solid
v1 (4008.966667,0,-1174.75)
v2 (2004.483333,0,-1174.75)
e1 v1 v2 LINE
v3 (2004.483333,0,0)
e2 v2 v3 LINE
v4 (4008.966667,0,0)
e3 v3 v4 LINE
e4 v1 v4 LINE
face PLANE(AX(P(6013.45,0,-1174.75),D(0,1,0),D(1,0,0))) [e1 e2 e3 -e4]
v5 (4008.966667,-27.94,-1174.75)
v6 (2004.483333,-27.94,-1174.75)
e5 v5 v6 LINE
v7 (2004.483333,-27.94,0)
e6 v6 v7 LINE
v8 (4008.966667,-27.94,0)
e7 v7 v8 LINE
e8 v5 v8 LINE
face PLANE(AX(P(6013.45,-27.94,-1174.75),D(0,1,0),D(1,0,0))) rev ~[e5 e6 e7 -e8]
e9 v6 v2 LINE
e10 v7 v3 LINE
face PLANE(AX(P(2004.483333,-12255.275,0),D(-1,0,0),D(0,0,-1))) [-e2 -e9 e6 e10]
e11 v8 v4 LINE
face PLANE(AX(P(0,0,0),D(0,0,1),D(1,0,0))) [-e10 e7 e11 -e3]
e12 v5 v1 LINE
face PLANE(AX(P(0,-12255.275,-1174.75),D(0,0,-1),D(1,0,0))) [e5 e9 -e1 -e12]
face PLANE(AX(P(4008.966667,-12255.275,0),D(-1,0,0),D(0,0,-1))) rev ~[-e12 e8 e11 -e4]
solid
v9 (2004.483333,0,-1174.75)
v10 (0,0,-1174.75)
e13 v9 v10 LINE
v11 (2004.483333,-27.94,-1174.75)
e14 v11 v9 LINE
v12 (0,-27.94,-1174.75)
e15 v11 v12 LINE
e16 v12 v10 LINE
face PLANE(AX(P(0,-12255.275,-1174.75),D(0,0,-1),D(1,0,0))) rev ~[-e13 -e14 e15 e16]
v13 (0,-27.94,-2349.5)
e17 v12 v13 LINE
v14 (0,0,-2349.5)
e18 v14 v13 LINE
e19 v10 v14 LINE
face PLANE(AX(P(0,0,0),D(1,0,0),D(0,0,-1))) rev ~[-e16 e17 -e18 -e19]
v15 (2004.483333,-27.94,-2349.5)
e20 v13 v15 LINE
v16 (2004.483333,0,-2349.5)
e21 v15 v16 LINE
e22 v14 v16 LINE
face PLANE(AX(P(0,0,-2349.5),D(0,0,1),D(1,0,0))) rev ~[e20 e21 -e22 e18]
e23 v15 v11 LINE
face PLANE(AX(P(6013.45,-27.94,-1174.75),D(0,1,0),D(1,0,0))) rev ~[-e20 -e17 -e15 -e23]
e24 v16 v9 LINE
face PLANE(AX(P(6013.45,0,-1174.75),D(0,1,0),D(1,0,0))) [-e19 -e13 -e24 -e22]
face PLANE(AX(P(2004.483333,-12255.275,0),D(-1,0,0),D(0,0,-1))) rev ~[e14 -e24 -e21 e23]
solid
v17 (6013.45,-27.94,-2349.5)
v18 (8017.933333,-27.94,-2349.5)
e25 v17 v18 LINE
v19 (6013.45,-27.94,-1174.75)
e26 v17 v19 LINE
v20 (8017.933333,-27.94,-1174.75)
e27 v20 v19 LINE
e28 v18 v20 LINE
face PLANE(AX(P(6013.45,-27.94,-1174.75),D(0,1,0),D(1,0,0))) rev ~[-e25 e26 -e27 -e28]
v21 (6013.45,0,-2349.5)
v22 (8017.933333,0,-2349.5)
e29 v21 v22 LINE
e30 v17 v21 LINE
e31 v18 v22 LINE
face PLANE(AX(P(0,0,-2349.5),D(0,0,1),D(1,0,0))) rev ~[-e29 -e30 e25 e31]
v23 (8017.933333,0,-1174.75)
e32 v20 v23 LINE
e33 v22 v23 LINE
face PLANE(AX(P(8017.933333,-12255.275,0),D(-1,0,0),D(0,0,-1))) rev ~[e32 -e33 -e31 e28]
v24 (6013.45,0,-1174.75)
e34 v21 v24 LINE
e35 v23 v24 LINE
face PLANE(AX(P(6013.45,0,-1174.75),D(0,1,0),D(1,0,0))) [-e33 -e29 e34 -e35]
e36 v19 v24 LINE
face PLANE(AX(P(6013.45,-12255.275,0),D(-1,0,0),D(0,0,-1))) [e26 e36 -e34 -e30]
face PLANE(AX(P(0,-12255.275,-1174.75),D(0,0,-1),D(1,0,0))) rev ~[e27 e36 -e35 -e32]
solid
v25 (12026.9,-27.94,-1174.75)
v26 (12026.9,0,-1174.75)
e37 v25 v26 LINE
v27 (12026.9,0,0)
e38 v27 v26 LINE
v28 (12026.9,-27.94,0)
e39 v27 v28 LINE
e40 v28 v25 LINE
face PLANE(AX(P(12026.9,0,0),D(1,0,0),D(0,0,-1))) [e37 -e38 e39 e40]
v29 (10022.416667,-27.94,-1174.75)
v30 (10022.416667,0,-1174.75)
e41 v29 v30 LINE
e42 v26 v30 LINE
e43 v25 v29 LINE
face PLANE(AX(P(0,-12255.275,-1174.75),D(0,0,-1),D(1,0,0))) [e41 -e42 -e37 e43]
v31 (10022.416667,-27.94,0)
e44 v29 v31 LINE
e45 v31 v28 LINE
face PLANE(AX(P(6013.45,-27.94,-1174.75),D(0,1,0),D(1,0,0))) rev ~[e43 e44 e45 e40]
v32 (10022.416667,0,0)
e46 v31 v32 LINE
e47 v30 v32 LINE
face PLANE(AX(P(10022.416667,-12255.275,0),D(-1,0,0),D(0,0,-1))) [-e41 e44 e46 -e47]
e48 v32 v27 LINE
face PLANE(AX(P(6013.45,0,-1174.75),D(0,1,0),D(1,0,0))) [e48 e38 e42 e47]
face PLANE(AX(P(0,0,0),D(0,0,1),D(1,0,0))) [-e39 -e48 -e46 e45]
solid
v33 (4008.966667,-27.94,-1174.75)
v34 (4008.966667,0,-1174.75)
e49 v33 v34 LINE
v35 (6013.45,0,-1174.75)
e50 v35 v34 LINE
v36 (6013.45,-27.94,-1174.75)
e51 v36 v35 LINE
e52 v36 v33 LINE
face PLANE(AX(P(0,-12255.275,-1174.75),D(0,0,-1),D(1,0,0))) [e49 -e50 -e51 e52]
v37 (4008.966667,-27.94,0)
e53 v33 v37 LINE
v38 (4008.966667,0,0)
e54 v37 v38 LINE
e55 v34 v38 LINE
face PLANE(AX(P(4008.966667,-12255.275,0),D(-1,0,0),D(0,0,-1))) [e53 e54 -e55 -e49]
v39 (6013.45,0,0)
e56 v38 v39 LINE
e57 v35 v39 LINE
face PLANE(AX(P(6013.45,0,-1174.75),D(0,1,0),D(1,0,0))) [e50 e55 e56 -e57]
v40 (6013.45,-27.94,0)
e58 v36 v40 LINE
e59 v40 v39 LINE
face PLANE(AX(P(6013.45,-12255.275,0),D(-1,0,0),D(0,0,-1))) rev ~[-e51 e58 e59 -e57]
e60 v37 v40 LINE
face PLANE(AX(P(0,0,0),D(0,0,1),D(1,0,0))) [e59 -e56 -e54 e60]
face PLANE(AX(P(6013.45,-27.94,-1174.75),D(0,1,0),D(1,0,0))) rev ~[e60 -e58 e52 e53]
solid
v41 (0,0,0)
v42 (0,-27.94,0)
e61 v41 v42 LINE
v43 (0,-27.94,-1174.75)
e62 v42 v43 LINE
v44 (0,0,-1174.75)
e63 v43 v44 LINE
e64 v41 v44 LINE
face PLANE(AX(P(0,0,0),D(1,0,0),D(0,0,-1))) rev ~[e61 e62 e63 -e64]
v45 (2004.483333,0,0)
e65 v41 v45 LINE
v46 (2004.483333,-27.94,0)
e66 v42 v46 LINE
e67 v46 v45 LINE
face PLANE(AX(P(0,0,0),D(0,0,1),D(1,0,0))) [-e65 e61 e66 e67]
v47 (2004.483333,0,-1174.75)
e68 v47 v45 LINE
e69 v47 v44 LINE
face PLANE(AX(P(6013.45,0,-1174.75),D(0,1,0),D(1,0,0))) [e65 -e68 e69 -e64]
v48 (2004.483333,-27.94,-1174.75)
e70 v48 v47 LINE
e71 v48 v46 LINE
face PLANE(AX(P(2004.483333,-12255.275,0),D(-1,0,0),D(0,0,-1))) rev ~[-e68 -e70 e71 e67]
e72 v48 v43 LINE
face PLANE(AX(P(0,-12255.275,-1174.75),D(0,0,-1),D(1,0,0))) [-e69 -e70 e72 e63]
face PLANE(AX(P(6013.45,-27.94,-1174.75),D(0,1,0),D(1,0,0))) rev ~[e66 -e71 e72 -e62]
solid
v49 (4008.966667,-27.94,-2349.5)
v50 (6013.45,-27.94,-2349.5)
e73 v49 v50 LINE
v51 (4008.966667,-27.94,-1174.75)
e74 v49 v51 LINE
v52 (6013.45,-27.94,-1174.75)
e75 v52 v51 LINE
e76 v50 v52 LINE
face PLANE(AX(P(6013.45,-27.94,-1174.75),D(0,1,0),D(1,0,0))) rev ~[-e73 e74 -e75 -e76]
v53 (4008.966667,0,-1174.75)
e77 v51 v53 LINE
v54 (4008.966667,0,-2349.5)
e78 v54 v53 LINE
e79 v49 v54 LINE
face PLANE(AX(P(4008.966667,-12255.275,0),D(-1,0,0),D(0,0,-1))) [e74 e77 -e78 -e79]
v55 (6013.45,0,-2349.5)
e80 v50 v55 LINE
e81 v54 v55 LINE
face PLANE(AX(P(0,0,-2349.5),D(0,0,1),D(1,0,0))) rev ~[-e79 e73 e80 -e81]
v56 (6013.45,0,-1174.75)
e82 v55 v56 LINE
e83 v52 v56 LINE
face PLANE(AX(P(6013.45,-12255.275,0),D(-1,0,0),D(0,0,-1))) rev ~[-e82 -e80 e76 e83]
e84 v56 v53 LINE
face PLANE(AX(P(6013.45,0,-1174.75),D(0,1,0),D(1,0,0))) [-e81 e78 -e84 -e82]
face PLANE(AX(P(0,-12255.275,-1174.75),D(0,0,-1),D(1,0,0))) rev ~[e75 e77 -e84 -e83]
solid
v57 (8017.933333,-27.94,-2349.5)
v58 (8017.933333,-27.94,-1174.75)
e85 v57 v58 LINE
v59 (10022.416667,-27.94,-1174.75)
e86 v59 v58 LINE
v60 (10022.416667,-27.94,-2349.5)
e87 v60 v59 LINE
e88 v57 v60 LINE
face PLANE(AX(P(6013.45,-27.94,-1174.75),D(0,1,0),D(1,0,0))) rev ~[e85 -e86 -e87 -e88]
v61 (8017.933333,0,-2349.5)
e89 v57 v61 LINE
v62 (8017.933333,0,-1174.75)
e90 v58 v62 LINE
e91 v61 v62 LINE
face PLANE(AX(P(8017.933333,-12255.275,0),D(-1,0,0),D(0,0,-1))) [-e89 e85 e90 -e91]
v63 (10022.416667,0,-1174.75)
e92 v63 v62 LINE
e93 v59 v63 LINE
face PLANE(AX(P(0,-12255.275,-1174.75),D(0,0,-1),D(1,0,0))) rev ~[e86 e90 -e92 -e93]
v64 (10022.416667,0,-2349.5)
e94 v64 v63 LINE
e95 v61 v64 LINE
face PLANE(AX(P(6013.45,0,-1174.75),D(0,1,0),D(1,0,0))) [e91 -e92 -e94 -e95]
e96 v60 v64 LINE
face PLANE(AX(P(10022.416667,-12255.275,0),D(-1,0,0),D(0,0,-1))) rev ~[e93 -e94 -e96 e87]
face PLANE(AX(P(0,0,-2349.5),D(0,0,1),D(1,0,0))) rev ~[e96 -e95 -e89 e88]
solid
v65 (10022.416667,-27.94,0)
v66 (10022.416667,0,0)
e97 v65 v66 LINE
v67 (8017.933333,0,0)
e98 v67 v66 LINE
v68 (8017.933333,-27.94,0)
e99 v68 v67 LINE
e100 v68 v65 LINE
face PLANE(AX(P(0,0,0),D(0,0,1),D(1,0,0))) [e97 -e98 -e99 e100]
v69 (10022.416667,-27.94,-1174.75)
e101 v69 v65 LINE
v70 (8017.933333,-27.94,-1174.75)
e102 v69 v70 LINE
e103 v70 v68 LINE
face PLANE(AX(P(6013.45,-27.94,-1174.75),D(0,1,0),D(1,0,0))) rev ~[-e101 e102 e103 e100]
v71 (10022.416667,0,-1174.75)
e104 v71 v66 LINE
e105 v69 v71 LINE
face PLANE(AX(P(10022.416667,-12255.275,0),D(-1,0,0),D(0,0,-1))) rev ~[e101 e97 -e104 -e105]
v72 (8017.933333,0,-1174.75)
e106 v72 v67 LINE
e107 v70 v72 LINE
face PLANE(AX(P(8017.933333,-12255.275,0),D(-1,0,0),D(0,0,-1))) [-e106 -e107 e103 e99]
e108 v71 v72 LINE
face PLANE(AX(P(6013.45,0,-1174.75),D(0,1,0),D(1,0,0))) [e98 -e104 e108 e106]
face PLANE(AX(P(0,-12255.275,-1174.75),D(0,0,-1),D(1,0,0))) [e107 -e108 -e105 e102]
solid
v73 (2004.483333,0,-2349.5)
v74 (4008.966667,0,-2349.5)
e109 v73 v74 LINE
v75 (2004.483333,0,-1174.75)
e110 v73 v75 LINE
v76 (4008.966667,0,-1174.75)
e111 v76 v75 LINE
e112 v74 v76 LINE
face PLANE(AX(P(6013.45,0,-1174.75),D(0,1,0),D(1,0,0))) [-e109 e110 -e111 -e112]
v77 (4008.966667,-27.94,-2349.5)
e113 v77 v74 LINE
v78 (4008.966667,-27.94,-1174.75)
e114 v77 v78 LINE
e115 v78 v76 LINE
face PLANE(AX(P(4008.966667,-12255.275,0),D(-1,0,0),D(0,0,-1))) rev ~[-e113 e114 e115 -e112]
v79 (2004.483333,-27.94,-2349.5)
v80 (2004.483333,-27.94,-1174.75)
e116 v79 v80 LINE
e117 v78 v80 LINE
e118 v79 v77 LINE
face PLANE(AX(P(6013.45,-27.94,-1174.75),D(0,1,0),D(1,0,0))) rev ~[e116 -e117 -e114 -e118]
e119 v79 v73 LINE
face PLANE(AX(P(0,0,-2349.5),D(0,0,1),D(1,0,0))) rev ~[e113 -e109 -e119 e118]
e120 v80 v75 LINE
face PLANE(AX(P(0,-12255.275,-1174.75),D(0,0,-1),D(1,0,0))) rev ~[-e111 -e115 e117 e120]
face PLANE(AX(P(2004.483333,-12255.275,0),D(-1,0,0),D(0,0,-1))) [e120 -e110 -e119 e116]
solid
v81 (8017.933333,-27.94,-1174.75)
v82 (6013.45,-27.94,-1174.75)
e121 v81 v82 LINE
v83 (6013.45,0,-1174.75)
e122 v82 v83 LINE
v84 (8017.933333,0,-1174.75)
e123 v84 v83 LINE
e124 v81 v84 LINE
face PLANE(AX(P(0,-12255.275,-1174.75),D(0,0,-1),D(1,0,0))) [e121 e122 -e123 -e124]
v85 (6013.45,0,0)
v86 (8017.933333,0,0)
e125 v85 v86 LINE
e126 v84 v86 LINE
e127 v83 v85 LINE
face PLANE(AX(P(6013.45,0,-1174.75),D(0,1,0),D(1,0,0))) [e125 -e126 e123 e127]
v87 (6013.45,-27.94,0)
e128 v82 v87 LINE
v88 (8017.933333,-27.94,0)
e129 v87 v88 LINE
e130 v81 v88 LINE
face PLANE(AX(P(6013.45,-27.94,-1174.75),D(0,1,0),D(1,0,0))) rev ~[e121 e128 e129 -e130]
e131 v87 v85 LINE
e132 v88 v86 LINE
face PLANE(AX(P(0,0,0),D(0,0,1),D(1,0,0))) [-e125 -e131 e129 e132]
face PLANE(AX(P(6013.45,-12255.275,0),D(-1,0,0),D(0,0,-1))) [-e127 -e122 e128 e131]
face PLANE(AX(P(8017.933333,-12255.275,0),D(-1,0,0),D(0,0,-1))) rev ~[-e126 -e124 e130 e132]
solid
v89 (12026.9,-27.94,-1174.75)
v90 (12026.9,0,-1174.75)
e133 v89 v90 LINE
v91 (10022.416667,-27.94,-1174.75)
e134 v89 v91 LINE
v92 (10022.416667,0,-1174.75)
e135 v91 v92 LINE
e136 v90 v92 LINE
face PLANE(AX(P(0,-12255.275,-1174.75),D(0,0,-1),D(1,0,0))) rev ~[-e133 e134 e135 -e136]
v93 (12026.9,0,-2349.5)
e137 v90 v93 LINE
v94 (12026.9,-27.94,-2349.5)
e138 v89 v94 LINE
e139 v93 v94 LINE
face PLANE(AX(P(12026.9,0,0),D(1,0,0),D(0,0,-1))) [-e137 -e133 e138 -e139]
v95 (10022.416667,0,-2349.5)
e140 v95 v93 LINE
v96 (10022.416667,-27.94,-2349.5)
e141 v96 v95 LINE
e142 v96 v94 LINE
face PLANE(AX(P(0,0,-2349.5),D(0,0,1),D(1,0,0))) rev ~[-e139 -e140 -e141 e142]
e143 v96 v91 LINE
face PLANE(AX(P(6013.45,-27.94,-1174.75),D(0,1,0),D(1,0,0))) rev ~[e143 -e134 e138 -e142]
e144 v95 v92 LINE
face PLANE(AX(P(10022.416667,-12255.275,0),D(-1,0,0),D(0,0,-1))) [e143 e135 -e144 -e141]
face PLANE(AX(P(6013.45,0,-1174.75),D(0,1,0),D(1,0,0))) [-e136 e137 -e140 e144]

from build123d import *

# Parameters (mm, degrees)
SKETCH1_W                 = 12026.9
SKETCH1_H                 = 2349.5
BOSS_EXTRUDE1_DEPTH       = 27.94
SPLIT1_SURFACE_1_1_BACK   = 12255.275
SPLIT1_SURFACE_1_1_DEPTH  = 24510.55
SPLIT1_SURFACE_1_2_BACK   = 12255.275
SPLIT1_SURFACE_1_2_DEPTH  = 24510.55
SPLIT1_SURFACE_2_3_BACK   = 12255.275
SPLIT1_SURFACE_2_3_DEPTH  = 24510.55
SPLIT1_SURFACE_2_4_BACK   = 12255.275
SPLIT1_SURFACE_2_4_DEPTH  = 24510.55
SPLIT1_SURFACE_2_5_BACK   = 12255.275
SPLIT1_SURFACE_2_5_DEPTH  = 24510.55
SPLIT1_SURFACE_2_6_BACK   = 12255.275
SPLIT1_SURFACE_2_6_DEPTH  = 24510.55
SPLIT1_SURFACE_3_7_BACK   = 12255.275
SPLIT1_SURFACE_3_7_DEPTH  = 24510.55
SPLIT1_SURFACE_3_8_BACK   = 12255.275
SPLIT1_SURFACE_3_8_DEPTH  = 24510.55
SPLIT1_SURFACE_3_9_BACK   = 12255.275
SPLIT1_SURFACE_3_9_DEPTH  = 24510.55
SPLIT1_SURFACE_3_10_BACK  = 12255.275
SPLIT1_SURFACE_3_10_DEPTH = 24510.55
SPLIT1_SURFACE_4_11_BACK  = 12255.275
SPLIT1_SURFACE_4_11_DEPTH = 24510.55
SPLIT1_SURFACE_4_12_BACK  = 12255.275
SPLIT1_SURFACE_4_12_DEPTH = 24510.55
SPLIT1_SURFACE_4_13_BACK  = 12255.275
SPLIT1_SURFACE_4_13_DEPTH = 24510.55
SPLIT1_SURFACE_4_14_BACK  = 12255.275
SPLIT1_SURFACE_4_14_DEPTH = 24510.55
SPLIT1_SURFACE_5_15_BACK  = 12255.275
SPLIT1_SURFACE_5_15_DEPTH = 24510.55
SPLIT1_SURFACE_5_16_BACK  = 12255.275
SPLIT1_SURFACE_5_16_DEPTH = 24510.55
SPLIT1_SURFACE_5_17_BACK  = 12255.275
SPLIT1_SURFACE_5_17_DEPTH = 24510.55
SPLIT1_SURFACE_5_18_BACK  = 12255.275
SPLIT1_SURFACE_5_18_DEPTH = 24510.55
SPLIT1_SURFACE_6_19_BACK  = 12255.275
SPLIT1_SURFACE_6_19_DEPTH = 24510.55
SPLIT1_SURFACE_6_20_BACK  = 12255.275
SPLIT1_SURFACE_6_20_DEPTH = 24510.55
SPLIT1_SURFACE_6_21_BACK  = 12255.275
SPLIT1_SURFACE_6_21_DEPTH = 24510.55
SPLIT1_SURFACE_6_22_BACK  = 12255.275
SPLIT1_SURFACE_6_22_DEPTH = 24510.55


with BuildPart() as part:
    # Sketch1 → Boss-Extrude1 (new body)
    with BuildSketch(Plane(origin=(0, 0, 0), x_dir=(1, 0, 0), z_dir=(0, 1, 0))):
        with Locations((6013.45, 1174.75)):
            Rectangle(SKETCH1_W, SKETCH1_H)
    extrude(amount=-BOSS_EXTRUDE1_DEPTH)


with BuildPart() as body_2:
    # Split1: the piece behind the surface
    add(part.part)
    # Split1 surface 1: a surface, the sketch's curves swept straight by 24510.55 mm
    with BuildLine(Plane(origin=(0, 0, 0), x_dir=(1, 0, 0), z_dir=(0, 1, 0)).offset(-SPLIT1_SURFACE_1_1_BACK), mode=Mode.PRIVATE) as split1_surface_1_1_path:
        Line((0, 1174.75), (12026.9, 1174.75))
    split1_surface_1_1 = Shell.extrude(split1_surface_1_1_path.wire(), (0 * SPLIT1_SURFACE_1_1_DEPTH, 1 * SPLIT1_SURFACE_1_1_DEPTH, 0 * SPLIT1_SURFACE_1_1_DEPTH))
    split(bisect_by=split1_surface_1_1, keep=Keep.BOTTOM)


with BuildPart() as part_1:
    add(part.part)

    # Split1: split by a surface, the side it looks to stays
    # Split1 surface 1: a surface, the sketch's curves swept straight by 24510.55 mm
    with BuildLine(Plane(origin=(0, 0, 0), x_dir=(1, 0, 0), z_dir=(0, 1, 0)).offset(-SPLIT1_SURFACE_1_2_BACK), mode=Mode.PRIVATE) as split1_surface_1_2_path:
        Line((0, 1174.75), (12026.9, 1174.75))
    split1_surface_1_2 = Shell.extrude(split1_surface_1_2_path.wire(), (0 * SPLIT1_SURFACE_1_2_DEPTH, 1 * SPLIT1_SURFACE_1_2_DEPTH, 0 * SPLIT1_SURFACE_1_2_DEPTH))
    split(bisect_by=split1_surface_1_2, keep=Keep.TOP)


with BuildPart() as body_3:
    # Split1 2: the piece behind the surface
    add(part_1.part)
    # Split1 surface 2: a surface, the sketch's curves swept straight by 24510.55 mm
    with BuildLine(Plane(origin=(0, 0, 0), x_dir=(1, 0, 0), z_dir=(0, 1, 0)).offset(-SPLIT1_SURFACE_2_3_BACK), mode=Mode.PRIVATE) as split1_surface_2_3_path:
        Line((2004.483333333, 0), (2004.483333333, 2349.5))
    split1_surface_2_3 = Shell.extrude(split1_surface_2_3_path.wire(), (0 * SPLIT1_SURFACE_2_3_DEPTH, 1 * SPLIT1_SURFACE_2_3_DEPTH, 0 * SPLIT1_SURFACE_2_3_DEPTH))
    split(bisect_by=split1_surface_2_3, keep=Keep.BOTTOM)


with BuildPart() as part_2:
    add(part_1.part)

    # Split1 2: split by a surface, the side it looks to stays
    # Split1 surface 2: a surface, the sketch's curves swept straight by 24510.55 mm
    with BuildLine(Plane(origin=(0, 0, 0), x_dir=(1, 0, 0), z_dir=(0, 1, 0)).offset(-SPLIT1_SURFACE_2_4_BACK), mode=Mode.PRIVATE) as split1_surface_2_4_path:
        Line((2004.483333333, 0), (2004.483333333, 2349.5))
    split1_surface_2_4 = Shell.extrude(split1_surface_2_4_path.wire(), (0 * SPLIT1_SURFACE_2_4_DEPTH, 1 * SPLIT1_SURFACE_2_4_DEPTH, 0 * SPLIT1_SURFACE_2_4_DEPTH))
    split(bisect_by=split1_surface_2_4, keep=Keep.TOP)


with BuildPart() as body_4:
    # Split1 2 body 2: the piece behind the surface
    add(body_2.part)
    # Split1 surface 2: a surface, the sketch's curves swept straight by 24510.55 mm
    with BuildLine(Plane(origin=(0, 0, 0), x_dir=(1, 0, 0), z_dir=(0, 1, 0)).offset(-SPLIT1_SURFACE_2_5_BACK), mode=Mode.PRIVATE) as split1_surface_2_5_path:
        Line((2004.483333333, 0), (2004.483333333, 2349.5))
    split1_surface_2_5 = Shell.extrude(split1_surface_2_5_path.wire(), (0 * SPLIT1_SURFACE_2_5_DEPTH, 1 * SPLIT1_SURFACE_2_5_DEPTH, 0 * SPLIT1_SURFACE_2_5_DEPTH))
    split(bisect_by=split1_surface_2_5, keep=Keep.BOTTOM)


with BuildPart() as body_2_1:
    add(body_2.part)

    # Split1 2 body 2: split by a surface, the side it looks to stays
    # Split1 surface 2: a surface, the sketch's curves swept straight by 24510.55 mm
    with BuildLine(Plane(origin=(0, 0, 0), x_dir=(1, 0, 0), z_dir=(0, 1, 0)).offset(-SPLIT1_SURFACE_2_6_BACK), mode=Mode.PRIVATE) as split1_surface_2_6_path:
        Line((2004.483333333, 0), (2004.483333333, 2349.5))
    split1_surface_2_6 = Shell.extrude(split1_surface_2_6_path.wire(), (0 * SPLIT1_SURFACE_2_6_DEPTH, 1 * SPLIT1_SURFACE_2_6_DEPTH, 0 * SPLIT1_SURFACE_2_6_DEPTH))
    split(bisect_by=split1_surface_2_6, keep=Keep.TOP)


with BuildPart() as body_5:
    # Split1 3 body 3: the piece behind the surface
    add(body_3.part)
    # Split1 surface 3: a surface, the sketch's curves swept straight by 24510.55 mm
    with BuildLine(Plane(origin=(0, 0, 0), x_dir=(1, 0, 0), z_dir=(0, 1, 0)).offset(-SPLIT1_SURFACE_3_7_BACK), mode=Mode.PRIVATE) as split1_surface_3_7_path:
        Line((4008.966666667, 0), (4008.966666667, 2349.5))
    split1_surface_3_7 = Shell.extrude(split1_surface_3_7_path.wire(), (0 * SPLIT1_SURFACE_3_7_DEPTH, 1 * SPLIT1_SURFACE_3_7_DEPTH, 0 * SPLIT1_SURFACE_3_7_DEPTH))
    split(bisect_by=split1_surface_3_7, keep=Keep.BOTTOM)


with BuildPart() as body_3_1:
    add(body_3.part)

    # Split1 3 body 3: split by a surface, the side it looks to stays
    # Split1 surface 3: a surface, the sketch's curves swept straight by 24510.55 mm
    with BuildLine(Plane(origin=(0, 0, 0), x_dir=(1, 0, 0), z_dir=(0, 1, 0)).offset(-SPLIT1_SURFACE_3_8_BACK), mode=Mode.PRIVATE) as split1_surface_3_8_path:
        Line((4008.966666667, 0), (4008.966666667, 2349.5))
    split1_surface_3_8 = Shell.extrude(split1_surface_3_8_path.wire(), (0 * SPLIT1_SURFACE_3_8_DEPTH, 1 * SPLIT1_SURFACE_3_8_DEPTH, 0 * SPLIT1_SURFACE_3_8_DEPTH))
    split(bisect_by=split1_surface_3_8, keep=Keep.TOP)


with BuildPart() as body_6:
    # Split1 3 body 4: the piece behind the surface
    add(body_4.part)
    # Split1 surface 3: a surface, the sketch's curves swept straight by 24510.55 mm
    with BuildLine(Plane(origin=(0, 0, 0), x_dir=(1, 0, 0), z_dir=(0, 1, 0)).offset(-SPLIT1_SURFACE_3_9_BACK), mode=Mode.PRIVATE) as split1_surface_3_9_path:
        Line((4008.966666667, 0), (4008.966666667, 2349.5))
    split1_surface_3_9 = Shell.extrude(split1_surface_3_9_path.wire(), (0 * SPLIT1_SURFACE_3_9_DEPTH, 1 * SPLIT1_SURFACE_3_9_DEPTH, 0 * SPLIT1_SURFACE_3_9_DEPTH))
    split(bisect_by=split1_surface_3_9, keep=Keep.BOTTOM)


with BuildPart() as body_4_1:
    add(body_4.part)

    # Split1 3 body 4: split by a surface, the side it looks to stays
    # Split1 surface 3: a surface, the sketch's curves swept straight by 24510.55 mm
    with BuildLine(Plane(origin=(0, 0, 0), x_dir=(1, 0, 0), z_dir=(0, 1, 0)).offset(-SPLIT1_SURFACE_3_10_BACK), mode=Mode.PRIVATE) as split1_surface_3_10_path:
        Line((4008.966666667, 0), (4008.966666667, 2349.5))
    split1_surface_3_10 = Shell.extrude(split1_surface_3_10_path.wire(), (0 * SPLIT1_SURFACE_3_10_DEPTH, 1 * SPLIT1_SURFACE_3_10_DEPTH, 0 * SPLIT1_SURFACE_3_10_DEPTH))
    split(bisect_by=split1_surface_3_10, keep=Keep.TOP)


with BuildPart() as body_7:
    # Split1 4 body 5: the piece behind the surface
    add(body_5.part)
    # Split1 surface 4: a surface, the sketch's curves swept straight by 24510.55 mm
    with BuildLine(Plane(origin=(0, 0, 0), x_dir=(1, 0, 0), z_dir=(0, 1, 0)).offset(-SPLIT1_SURFACE_4_11_BACK), mode=Mode.PRIVATE) as split1_surface_4_11_path:
        Line((10022.416666667, 0), (10022.416666667, 2349.5))
    split1_surface_4_11 = Shell.extrude(split1_surface_4_11_path.wire(), (0 * SPLIT1_SURFACE_4_11_DEPTH, 1 * SPLIT1_SURFACE_4_11_DEPTH, 0 * SPLIT1_SURFACE_4_11_DEPTH))
    split(bisect_by=split1_surface_4_11, keep=Keep.BOTTOM)


with BuildPart() as body_5_1:
    add(body_5.part)

    # Split1 4 body 5: split by a surface, the side it looks to stays
    # Split1 surface 4: a surface, the sketch's curves swept straight by 24510.55 mm
    with BuildLine(Plane(origin=(0, 0, 0), x_dir=(1, 0, 0), z_dir=(0, 1, 0)).offset(-SPLIT1_SURFACE_4_12_BACK), mode=Mode.PRIVATE) as split1_surface_4_12_path:
        Line((10022.416666667, 0), (10022.416666667, 2349.5))
    split1_surface_4_12 = Shell.extrude(split1_surface_4_12_path.wire(), (0 * SPLIT1_SURFACE_4_12_DEPTH, 1 * SPLIT1_SURFACE_4_12_DEPTH, 0 * SPLIT1_SURFACE_4_12_DEPTH))
    split(bisect_by=split1_surface_4_12, keep=Keep.TOP)


with BuildPart() as body_8:
    # Split1 4 body 6: the piece behind the surface
    add(body_6.part)
    # Split1 surface 4: a surface, the sketch's curves swept straight by 24510.55 mm
    with BuildLine(Plane(origin=(0, 0, 0), x_dir=(1, 0, 0), z_dir=(0, 1, 0)).offset(-SPLIT1_SURFACE_4_13_BACK), mode=Mode.PRIVATE) as split1_surface_4_13_path:
        Line((10022.416666667, 0), (10022.416666667, 2349.5))
    split1_surface_4_13 = Shell.extrude(split1_surface_4_13_path.wire(), (0 * SPLIT1_SURFACE_4_13_DEPTH, 1 * SPLIT1_SURFACE_4_13_DEPTH, 0 * SPLIT1_SURFACE_4_13_DEPTH))
    split(bisect_by=split1_surface_4_13, keep=Keep.BOTTOM)


with BuildPart() as body_6_1:
    add(body_6.part)

    # Split1 4 body 6: split by a surface, the side it looks to stays
    # Split1 surface 4: a surface, the sketch's curves swept straight by 24510.55 mm
    with BuildLine(Plane(origin=(0, 0, 0), x_dir=(1, 0, 0), z_dir=(0, 1, 0)).offset(-SPLIT1_SURFACE_4_14_BACK), mode=Mode.PRIVATE) as split1_surface_4_14_path:
        Line((10022.416666667, 0), (10022.416666667, 2349.5))
    split1_surface_4_14 = Shell.extrude(split1_surface_4_14_path.wire(), (0 * SPLIT1_SURFACE_4_14_DEPTH, 1 * SPLIT1_SURFACE_4_14_DEPTH, 0 * SPLIT1_SURFACE_4_14_DEPTH))
    split(bisect_by=split1_surface_4_14, keep=Keep.TOP)


with BuildPart() as body_9:
    # Split1 5 body 5: the piece behind the surface
    add(body_5_1.part)
    # Split1 surface 5: a surface, the sketch's curves swept straight by 24510.55 mm
    with BuildLine(Plane(origin=(0, 0, 0), x_dir=(1, 0, 0), z_dir=(0, 1, 0)).offset(-SPLIT1_SURFACE_5_15_BACK), mode=Mode.PRIVATE) as split1_surface_5_15_path:
        Line((8017.933333333, 0), (8017.933333333, 2349.5))
    split1_surface_5_15 = Shell.extrude(split1_surface_5_15_path.wire(), (0 * SPLIT1_SURFACE_5_15_DEPTH, 1 * SPLIT1_SURFACE_5_15_DEPTH, 0 * SPLIT1_SURFACE_5_15_DEPTH))
    split(bisect_by=split1_surface_5_15, keep=Keep.BOTTOM)


with BuildPart() as body_5_2:
    add(body_5_1.part)

    # Split1 5 body 5: split by a surface, the side it looks to stays
    # Split1 surface 5: a surface, the sketch's curves swept straight by 24510.55 mm
    with BuildLine(Plane(origin=(0, 0, 0), x_dir=(1, 0, 0), z_dir=(0, 1, 0)).offset(-SPLIT1_SURFACE_5_16_BACK), mode=Mode.PRIVATE) as split1_surface_5_16_path:
        Line((8017.933333333, 0), (8017.933333333, 2349.5))
    split1_surface_5_16 = Shell.extrude(split1_surface_5_16_path.wire(), (0 * SPLIT1_SURFACE_5_16_DEPTH, 1 * SPLIT1_SURFACE_5_16_DEPTH, 0 * SPLIT1_SURFACE_5_16_DEPTH))
    split(bisect_by=split1_surface_5_16, keep=Keep.TOP)


with BuildPart() as body_10:
    # Split1 5 body 6: the piece behind the surface
    add(body_6_1.part)
    # Split1 surface 5: a surface, the sketch's curves swept straight by 24510.55 mm
    with BuildLine(Plane(origin=(0, 0, 0), x_dir=(1, 0, 0), z_dir=(0, 1, 0)).offset(-SPLIT1_SURFACE_5_17_BACK), mode=Mode.PRIVATE) as split1_surface_5_17_path:
        Line((8017.933333333, 0), (8017.933333333, 2349.5))
    split1_surface_5_17 = Shell.extrude(split1_surface_5_17_path.wire(), (0 * SPLIT1_SURFACE_5_17_DEPTH, 1 * SPLIT1_SURFACE_5_17_DEPTH, 0 * SPLIT1_SURFACE_5_17_DEPTH))
    split(bisect_by=split1_surface_5_17, keep=Keep.BOTTOM)


with BuildPart() as body_6_2:
    add(body_6_1.part)

    # Split1 5 body 6: split by a surface, the side it looks to stays
    # Split1 surface 5: a surface, the sketch's curves swept straight by 24510.55 mm
    with BuildLine(Plane(origin=(0, 0, 0), x_dir=(1, 0, 0), z_dir=(0, 1, 0)).offset(-SPLIT1_SURFACE_5_18_BACK), mode=Mode.PRIVATE) as split1_surface_5_18_path:
        Line((8017.933333333, 0), (8017.933333333, 2349.5))
    split1_surface_5_18 = Shell.extrude(split1_surface_5_18_path.wire(), (0 * SPLIT1_SURFACE_5_18_DEPTH, 1 * SPLIT1_SURFACE_5_18_DEPTH, 0 * SPLIT1_SURFACE_5_18_DEPTH))
    split(bisect_by=split1_surface_5_18, keep=Keep.TOP)


with BuildPart() as body_11_2:
    # Split1 6 body 5: the piece behind the surface
    add(body_5_2.part)
    # Split1 surface 6: a surface, the sketch's curves swept straight by 24510.55 mm
    with BuildLine(Plane(origin=(0, 0, 0), x_dir=(1, 0, 0), z_dir=(0, 1, 0)).offset(-SPLIT1_SURFACE_6_19_BACK), mode=Mode.PRIVATE) as split1_surface_6_19_path:
        Line((6013.45, 0), (6013.45, 2349.5))
    split1_surface_6_19 = Shell.extrude(split1_surface_6_19_path.wire(), (0 * SPLIT1_SURFACE_6_19_DEPTH, 1 * SPLIT1_SURFACE_6_19_DEPTH, 0 * SPLIT1_SURFACE_6_19_DEPTH))
    split(bisect_by=split1_surface_6_19, keep=Keep.BOTTOM)


with BuildPart() as body_5_3:
    add(body_5_2.part)

    # Split1 6 body 5: split by a surface, the side it looks to stays
    # Split1 surface 6: a surface, the sketch's curves swept straight by 24510.55 mm
    with BuildLine(Plane(origin=(0, 0, 0), x_dir=(1, 0, 0), z_dir=(0, 1, 0)).offset(-SPLIT1_SURFACE_6_20_BACK), mode=Mode.PRIVATE) as split1_surface_6_20_path:
        Line((6013.45, 0), (6013.45, 2349.5))
    split1_surface_6_20 = Shell.extrude(split1_surface_6_20_path.wire(), (0 * SPLIT1_SURFACE_6_20_DEPTH, 1 * SPLIT1_SURFACE_6_20_DEPTH, 0 * SPLIT1_SURFACE_6_20_DEPTH))
    split(bisect_by=split1_surface_6_20, keep=Keep.TOP)


with BuildPart() as body_12:
    # Split1 6 body 6: the piece behind the surface
    add(body_6_2.part)
    # Split1 surface 6: a surface, the sketch's curves swept straight by 24510.55 mm
    with BuildLine(Plane(origin=(0, 0, 0), x_dir=(1, 0, 0), z_dir=(0, 1, 0)).offset(-SPLIT1_SURFACE_6_21_BACK), mode=Mode.PRIVATE) as split1_surface_6_21_path:
        Line((6013.45, 0), (6013.45, 2349.5))
    split1_surface_6_21 = Shell.extrude(split1_surface_6_21_path.wire(), (0 * SPLIT1_SURFACE_6_21_DEPTH, 1 * SPLIT1_SURFACE_6_21_DEPTH, 0 * SPLIT1_SURFACE_6_21_DEPTH))
    split(bisect_by=split1_surface_6_21, keep=Keep.BOTTOM)


with BuildPart() as body_6_3:
    add(body_6_2.part)

    # Split1 6 body 6: split by a surface, the side it looks to stays
    # Split1 surface 6: a surface, the sketch's curves swept straight by 24510.55 mm
    with BuildLine(Plane(origin=(0, 0, 0), x_dir=(1, 0, 0), z_dir=(0, 1, 0)).offset(-SPLIT1_SURFACE_6_22_BACK), mode=Mode.PRIVATE) as split1_surface_6_22_path:
        Line((6013.45, 0), (6013.45, 2349.5))
    split1_surface_6_22 = Shell.extrude(split1_surface_6_22_path.wire(), (0 * SPLIT1_SURFACE_6_22_DEPTH, 1 * SPLIT1_SURFACE_6_22_DEPTH, 0 * SPLIT1_SURFACE_6_22_DEPTH))
    split(bisect_by=split1_surface_6_22, keep=Keep.TOP)


solid = Compound([part_2.part, body_2_1.part, body_3_1.part, body_4_1.part, body_7.part, body_8.part, body_9.part, body_10.part, body_11_2.part, body_5_3.part, body_12.part, body_6_3.part])
